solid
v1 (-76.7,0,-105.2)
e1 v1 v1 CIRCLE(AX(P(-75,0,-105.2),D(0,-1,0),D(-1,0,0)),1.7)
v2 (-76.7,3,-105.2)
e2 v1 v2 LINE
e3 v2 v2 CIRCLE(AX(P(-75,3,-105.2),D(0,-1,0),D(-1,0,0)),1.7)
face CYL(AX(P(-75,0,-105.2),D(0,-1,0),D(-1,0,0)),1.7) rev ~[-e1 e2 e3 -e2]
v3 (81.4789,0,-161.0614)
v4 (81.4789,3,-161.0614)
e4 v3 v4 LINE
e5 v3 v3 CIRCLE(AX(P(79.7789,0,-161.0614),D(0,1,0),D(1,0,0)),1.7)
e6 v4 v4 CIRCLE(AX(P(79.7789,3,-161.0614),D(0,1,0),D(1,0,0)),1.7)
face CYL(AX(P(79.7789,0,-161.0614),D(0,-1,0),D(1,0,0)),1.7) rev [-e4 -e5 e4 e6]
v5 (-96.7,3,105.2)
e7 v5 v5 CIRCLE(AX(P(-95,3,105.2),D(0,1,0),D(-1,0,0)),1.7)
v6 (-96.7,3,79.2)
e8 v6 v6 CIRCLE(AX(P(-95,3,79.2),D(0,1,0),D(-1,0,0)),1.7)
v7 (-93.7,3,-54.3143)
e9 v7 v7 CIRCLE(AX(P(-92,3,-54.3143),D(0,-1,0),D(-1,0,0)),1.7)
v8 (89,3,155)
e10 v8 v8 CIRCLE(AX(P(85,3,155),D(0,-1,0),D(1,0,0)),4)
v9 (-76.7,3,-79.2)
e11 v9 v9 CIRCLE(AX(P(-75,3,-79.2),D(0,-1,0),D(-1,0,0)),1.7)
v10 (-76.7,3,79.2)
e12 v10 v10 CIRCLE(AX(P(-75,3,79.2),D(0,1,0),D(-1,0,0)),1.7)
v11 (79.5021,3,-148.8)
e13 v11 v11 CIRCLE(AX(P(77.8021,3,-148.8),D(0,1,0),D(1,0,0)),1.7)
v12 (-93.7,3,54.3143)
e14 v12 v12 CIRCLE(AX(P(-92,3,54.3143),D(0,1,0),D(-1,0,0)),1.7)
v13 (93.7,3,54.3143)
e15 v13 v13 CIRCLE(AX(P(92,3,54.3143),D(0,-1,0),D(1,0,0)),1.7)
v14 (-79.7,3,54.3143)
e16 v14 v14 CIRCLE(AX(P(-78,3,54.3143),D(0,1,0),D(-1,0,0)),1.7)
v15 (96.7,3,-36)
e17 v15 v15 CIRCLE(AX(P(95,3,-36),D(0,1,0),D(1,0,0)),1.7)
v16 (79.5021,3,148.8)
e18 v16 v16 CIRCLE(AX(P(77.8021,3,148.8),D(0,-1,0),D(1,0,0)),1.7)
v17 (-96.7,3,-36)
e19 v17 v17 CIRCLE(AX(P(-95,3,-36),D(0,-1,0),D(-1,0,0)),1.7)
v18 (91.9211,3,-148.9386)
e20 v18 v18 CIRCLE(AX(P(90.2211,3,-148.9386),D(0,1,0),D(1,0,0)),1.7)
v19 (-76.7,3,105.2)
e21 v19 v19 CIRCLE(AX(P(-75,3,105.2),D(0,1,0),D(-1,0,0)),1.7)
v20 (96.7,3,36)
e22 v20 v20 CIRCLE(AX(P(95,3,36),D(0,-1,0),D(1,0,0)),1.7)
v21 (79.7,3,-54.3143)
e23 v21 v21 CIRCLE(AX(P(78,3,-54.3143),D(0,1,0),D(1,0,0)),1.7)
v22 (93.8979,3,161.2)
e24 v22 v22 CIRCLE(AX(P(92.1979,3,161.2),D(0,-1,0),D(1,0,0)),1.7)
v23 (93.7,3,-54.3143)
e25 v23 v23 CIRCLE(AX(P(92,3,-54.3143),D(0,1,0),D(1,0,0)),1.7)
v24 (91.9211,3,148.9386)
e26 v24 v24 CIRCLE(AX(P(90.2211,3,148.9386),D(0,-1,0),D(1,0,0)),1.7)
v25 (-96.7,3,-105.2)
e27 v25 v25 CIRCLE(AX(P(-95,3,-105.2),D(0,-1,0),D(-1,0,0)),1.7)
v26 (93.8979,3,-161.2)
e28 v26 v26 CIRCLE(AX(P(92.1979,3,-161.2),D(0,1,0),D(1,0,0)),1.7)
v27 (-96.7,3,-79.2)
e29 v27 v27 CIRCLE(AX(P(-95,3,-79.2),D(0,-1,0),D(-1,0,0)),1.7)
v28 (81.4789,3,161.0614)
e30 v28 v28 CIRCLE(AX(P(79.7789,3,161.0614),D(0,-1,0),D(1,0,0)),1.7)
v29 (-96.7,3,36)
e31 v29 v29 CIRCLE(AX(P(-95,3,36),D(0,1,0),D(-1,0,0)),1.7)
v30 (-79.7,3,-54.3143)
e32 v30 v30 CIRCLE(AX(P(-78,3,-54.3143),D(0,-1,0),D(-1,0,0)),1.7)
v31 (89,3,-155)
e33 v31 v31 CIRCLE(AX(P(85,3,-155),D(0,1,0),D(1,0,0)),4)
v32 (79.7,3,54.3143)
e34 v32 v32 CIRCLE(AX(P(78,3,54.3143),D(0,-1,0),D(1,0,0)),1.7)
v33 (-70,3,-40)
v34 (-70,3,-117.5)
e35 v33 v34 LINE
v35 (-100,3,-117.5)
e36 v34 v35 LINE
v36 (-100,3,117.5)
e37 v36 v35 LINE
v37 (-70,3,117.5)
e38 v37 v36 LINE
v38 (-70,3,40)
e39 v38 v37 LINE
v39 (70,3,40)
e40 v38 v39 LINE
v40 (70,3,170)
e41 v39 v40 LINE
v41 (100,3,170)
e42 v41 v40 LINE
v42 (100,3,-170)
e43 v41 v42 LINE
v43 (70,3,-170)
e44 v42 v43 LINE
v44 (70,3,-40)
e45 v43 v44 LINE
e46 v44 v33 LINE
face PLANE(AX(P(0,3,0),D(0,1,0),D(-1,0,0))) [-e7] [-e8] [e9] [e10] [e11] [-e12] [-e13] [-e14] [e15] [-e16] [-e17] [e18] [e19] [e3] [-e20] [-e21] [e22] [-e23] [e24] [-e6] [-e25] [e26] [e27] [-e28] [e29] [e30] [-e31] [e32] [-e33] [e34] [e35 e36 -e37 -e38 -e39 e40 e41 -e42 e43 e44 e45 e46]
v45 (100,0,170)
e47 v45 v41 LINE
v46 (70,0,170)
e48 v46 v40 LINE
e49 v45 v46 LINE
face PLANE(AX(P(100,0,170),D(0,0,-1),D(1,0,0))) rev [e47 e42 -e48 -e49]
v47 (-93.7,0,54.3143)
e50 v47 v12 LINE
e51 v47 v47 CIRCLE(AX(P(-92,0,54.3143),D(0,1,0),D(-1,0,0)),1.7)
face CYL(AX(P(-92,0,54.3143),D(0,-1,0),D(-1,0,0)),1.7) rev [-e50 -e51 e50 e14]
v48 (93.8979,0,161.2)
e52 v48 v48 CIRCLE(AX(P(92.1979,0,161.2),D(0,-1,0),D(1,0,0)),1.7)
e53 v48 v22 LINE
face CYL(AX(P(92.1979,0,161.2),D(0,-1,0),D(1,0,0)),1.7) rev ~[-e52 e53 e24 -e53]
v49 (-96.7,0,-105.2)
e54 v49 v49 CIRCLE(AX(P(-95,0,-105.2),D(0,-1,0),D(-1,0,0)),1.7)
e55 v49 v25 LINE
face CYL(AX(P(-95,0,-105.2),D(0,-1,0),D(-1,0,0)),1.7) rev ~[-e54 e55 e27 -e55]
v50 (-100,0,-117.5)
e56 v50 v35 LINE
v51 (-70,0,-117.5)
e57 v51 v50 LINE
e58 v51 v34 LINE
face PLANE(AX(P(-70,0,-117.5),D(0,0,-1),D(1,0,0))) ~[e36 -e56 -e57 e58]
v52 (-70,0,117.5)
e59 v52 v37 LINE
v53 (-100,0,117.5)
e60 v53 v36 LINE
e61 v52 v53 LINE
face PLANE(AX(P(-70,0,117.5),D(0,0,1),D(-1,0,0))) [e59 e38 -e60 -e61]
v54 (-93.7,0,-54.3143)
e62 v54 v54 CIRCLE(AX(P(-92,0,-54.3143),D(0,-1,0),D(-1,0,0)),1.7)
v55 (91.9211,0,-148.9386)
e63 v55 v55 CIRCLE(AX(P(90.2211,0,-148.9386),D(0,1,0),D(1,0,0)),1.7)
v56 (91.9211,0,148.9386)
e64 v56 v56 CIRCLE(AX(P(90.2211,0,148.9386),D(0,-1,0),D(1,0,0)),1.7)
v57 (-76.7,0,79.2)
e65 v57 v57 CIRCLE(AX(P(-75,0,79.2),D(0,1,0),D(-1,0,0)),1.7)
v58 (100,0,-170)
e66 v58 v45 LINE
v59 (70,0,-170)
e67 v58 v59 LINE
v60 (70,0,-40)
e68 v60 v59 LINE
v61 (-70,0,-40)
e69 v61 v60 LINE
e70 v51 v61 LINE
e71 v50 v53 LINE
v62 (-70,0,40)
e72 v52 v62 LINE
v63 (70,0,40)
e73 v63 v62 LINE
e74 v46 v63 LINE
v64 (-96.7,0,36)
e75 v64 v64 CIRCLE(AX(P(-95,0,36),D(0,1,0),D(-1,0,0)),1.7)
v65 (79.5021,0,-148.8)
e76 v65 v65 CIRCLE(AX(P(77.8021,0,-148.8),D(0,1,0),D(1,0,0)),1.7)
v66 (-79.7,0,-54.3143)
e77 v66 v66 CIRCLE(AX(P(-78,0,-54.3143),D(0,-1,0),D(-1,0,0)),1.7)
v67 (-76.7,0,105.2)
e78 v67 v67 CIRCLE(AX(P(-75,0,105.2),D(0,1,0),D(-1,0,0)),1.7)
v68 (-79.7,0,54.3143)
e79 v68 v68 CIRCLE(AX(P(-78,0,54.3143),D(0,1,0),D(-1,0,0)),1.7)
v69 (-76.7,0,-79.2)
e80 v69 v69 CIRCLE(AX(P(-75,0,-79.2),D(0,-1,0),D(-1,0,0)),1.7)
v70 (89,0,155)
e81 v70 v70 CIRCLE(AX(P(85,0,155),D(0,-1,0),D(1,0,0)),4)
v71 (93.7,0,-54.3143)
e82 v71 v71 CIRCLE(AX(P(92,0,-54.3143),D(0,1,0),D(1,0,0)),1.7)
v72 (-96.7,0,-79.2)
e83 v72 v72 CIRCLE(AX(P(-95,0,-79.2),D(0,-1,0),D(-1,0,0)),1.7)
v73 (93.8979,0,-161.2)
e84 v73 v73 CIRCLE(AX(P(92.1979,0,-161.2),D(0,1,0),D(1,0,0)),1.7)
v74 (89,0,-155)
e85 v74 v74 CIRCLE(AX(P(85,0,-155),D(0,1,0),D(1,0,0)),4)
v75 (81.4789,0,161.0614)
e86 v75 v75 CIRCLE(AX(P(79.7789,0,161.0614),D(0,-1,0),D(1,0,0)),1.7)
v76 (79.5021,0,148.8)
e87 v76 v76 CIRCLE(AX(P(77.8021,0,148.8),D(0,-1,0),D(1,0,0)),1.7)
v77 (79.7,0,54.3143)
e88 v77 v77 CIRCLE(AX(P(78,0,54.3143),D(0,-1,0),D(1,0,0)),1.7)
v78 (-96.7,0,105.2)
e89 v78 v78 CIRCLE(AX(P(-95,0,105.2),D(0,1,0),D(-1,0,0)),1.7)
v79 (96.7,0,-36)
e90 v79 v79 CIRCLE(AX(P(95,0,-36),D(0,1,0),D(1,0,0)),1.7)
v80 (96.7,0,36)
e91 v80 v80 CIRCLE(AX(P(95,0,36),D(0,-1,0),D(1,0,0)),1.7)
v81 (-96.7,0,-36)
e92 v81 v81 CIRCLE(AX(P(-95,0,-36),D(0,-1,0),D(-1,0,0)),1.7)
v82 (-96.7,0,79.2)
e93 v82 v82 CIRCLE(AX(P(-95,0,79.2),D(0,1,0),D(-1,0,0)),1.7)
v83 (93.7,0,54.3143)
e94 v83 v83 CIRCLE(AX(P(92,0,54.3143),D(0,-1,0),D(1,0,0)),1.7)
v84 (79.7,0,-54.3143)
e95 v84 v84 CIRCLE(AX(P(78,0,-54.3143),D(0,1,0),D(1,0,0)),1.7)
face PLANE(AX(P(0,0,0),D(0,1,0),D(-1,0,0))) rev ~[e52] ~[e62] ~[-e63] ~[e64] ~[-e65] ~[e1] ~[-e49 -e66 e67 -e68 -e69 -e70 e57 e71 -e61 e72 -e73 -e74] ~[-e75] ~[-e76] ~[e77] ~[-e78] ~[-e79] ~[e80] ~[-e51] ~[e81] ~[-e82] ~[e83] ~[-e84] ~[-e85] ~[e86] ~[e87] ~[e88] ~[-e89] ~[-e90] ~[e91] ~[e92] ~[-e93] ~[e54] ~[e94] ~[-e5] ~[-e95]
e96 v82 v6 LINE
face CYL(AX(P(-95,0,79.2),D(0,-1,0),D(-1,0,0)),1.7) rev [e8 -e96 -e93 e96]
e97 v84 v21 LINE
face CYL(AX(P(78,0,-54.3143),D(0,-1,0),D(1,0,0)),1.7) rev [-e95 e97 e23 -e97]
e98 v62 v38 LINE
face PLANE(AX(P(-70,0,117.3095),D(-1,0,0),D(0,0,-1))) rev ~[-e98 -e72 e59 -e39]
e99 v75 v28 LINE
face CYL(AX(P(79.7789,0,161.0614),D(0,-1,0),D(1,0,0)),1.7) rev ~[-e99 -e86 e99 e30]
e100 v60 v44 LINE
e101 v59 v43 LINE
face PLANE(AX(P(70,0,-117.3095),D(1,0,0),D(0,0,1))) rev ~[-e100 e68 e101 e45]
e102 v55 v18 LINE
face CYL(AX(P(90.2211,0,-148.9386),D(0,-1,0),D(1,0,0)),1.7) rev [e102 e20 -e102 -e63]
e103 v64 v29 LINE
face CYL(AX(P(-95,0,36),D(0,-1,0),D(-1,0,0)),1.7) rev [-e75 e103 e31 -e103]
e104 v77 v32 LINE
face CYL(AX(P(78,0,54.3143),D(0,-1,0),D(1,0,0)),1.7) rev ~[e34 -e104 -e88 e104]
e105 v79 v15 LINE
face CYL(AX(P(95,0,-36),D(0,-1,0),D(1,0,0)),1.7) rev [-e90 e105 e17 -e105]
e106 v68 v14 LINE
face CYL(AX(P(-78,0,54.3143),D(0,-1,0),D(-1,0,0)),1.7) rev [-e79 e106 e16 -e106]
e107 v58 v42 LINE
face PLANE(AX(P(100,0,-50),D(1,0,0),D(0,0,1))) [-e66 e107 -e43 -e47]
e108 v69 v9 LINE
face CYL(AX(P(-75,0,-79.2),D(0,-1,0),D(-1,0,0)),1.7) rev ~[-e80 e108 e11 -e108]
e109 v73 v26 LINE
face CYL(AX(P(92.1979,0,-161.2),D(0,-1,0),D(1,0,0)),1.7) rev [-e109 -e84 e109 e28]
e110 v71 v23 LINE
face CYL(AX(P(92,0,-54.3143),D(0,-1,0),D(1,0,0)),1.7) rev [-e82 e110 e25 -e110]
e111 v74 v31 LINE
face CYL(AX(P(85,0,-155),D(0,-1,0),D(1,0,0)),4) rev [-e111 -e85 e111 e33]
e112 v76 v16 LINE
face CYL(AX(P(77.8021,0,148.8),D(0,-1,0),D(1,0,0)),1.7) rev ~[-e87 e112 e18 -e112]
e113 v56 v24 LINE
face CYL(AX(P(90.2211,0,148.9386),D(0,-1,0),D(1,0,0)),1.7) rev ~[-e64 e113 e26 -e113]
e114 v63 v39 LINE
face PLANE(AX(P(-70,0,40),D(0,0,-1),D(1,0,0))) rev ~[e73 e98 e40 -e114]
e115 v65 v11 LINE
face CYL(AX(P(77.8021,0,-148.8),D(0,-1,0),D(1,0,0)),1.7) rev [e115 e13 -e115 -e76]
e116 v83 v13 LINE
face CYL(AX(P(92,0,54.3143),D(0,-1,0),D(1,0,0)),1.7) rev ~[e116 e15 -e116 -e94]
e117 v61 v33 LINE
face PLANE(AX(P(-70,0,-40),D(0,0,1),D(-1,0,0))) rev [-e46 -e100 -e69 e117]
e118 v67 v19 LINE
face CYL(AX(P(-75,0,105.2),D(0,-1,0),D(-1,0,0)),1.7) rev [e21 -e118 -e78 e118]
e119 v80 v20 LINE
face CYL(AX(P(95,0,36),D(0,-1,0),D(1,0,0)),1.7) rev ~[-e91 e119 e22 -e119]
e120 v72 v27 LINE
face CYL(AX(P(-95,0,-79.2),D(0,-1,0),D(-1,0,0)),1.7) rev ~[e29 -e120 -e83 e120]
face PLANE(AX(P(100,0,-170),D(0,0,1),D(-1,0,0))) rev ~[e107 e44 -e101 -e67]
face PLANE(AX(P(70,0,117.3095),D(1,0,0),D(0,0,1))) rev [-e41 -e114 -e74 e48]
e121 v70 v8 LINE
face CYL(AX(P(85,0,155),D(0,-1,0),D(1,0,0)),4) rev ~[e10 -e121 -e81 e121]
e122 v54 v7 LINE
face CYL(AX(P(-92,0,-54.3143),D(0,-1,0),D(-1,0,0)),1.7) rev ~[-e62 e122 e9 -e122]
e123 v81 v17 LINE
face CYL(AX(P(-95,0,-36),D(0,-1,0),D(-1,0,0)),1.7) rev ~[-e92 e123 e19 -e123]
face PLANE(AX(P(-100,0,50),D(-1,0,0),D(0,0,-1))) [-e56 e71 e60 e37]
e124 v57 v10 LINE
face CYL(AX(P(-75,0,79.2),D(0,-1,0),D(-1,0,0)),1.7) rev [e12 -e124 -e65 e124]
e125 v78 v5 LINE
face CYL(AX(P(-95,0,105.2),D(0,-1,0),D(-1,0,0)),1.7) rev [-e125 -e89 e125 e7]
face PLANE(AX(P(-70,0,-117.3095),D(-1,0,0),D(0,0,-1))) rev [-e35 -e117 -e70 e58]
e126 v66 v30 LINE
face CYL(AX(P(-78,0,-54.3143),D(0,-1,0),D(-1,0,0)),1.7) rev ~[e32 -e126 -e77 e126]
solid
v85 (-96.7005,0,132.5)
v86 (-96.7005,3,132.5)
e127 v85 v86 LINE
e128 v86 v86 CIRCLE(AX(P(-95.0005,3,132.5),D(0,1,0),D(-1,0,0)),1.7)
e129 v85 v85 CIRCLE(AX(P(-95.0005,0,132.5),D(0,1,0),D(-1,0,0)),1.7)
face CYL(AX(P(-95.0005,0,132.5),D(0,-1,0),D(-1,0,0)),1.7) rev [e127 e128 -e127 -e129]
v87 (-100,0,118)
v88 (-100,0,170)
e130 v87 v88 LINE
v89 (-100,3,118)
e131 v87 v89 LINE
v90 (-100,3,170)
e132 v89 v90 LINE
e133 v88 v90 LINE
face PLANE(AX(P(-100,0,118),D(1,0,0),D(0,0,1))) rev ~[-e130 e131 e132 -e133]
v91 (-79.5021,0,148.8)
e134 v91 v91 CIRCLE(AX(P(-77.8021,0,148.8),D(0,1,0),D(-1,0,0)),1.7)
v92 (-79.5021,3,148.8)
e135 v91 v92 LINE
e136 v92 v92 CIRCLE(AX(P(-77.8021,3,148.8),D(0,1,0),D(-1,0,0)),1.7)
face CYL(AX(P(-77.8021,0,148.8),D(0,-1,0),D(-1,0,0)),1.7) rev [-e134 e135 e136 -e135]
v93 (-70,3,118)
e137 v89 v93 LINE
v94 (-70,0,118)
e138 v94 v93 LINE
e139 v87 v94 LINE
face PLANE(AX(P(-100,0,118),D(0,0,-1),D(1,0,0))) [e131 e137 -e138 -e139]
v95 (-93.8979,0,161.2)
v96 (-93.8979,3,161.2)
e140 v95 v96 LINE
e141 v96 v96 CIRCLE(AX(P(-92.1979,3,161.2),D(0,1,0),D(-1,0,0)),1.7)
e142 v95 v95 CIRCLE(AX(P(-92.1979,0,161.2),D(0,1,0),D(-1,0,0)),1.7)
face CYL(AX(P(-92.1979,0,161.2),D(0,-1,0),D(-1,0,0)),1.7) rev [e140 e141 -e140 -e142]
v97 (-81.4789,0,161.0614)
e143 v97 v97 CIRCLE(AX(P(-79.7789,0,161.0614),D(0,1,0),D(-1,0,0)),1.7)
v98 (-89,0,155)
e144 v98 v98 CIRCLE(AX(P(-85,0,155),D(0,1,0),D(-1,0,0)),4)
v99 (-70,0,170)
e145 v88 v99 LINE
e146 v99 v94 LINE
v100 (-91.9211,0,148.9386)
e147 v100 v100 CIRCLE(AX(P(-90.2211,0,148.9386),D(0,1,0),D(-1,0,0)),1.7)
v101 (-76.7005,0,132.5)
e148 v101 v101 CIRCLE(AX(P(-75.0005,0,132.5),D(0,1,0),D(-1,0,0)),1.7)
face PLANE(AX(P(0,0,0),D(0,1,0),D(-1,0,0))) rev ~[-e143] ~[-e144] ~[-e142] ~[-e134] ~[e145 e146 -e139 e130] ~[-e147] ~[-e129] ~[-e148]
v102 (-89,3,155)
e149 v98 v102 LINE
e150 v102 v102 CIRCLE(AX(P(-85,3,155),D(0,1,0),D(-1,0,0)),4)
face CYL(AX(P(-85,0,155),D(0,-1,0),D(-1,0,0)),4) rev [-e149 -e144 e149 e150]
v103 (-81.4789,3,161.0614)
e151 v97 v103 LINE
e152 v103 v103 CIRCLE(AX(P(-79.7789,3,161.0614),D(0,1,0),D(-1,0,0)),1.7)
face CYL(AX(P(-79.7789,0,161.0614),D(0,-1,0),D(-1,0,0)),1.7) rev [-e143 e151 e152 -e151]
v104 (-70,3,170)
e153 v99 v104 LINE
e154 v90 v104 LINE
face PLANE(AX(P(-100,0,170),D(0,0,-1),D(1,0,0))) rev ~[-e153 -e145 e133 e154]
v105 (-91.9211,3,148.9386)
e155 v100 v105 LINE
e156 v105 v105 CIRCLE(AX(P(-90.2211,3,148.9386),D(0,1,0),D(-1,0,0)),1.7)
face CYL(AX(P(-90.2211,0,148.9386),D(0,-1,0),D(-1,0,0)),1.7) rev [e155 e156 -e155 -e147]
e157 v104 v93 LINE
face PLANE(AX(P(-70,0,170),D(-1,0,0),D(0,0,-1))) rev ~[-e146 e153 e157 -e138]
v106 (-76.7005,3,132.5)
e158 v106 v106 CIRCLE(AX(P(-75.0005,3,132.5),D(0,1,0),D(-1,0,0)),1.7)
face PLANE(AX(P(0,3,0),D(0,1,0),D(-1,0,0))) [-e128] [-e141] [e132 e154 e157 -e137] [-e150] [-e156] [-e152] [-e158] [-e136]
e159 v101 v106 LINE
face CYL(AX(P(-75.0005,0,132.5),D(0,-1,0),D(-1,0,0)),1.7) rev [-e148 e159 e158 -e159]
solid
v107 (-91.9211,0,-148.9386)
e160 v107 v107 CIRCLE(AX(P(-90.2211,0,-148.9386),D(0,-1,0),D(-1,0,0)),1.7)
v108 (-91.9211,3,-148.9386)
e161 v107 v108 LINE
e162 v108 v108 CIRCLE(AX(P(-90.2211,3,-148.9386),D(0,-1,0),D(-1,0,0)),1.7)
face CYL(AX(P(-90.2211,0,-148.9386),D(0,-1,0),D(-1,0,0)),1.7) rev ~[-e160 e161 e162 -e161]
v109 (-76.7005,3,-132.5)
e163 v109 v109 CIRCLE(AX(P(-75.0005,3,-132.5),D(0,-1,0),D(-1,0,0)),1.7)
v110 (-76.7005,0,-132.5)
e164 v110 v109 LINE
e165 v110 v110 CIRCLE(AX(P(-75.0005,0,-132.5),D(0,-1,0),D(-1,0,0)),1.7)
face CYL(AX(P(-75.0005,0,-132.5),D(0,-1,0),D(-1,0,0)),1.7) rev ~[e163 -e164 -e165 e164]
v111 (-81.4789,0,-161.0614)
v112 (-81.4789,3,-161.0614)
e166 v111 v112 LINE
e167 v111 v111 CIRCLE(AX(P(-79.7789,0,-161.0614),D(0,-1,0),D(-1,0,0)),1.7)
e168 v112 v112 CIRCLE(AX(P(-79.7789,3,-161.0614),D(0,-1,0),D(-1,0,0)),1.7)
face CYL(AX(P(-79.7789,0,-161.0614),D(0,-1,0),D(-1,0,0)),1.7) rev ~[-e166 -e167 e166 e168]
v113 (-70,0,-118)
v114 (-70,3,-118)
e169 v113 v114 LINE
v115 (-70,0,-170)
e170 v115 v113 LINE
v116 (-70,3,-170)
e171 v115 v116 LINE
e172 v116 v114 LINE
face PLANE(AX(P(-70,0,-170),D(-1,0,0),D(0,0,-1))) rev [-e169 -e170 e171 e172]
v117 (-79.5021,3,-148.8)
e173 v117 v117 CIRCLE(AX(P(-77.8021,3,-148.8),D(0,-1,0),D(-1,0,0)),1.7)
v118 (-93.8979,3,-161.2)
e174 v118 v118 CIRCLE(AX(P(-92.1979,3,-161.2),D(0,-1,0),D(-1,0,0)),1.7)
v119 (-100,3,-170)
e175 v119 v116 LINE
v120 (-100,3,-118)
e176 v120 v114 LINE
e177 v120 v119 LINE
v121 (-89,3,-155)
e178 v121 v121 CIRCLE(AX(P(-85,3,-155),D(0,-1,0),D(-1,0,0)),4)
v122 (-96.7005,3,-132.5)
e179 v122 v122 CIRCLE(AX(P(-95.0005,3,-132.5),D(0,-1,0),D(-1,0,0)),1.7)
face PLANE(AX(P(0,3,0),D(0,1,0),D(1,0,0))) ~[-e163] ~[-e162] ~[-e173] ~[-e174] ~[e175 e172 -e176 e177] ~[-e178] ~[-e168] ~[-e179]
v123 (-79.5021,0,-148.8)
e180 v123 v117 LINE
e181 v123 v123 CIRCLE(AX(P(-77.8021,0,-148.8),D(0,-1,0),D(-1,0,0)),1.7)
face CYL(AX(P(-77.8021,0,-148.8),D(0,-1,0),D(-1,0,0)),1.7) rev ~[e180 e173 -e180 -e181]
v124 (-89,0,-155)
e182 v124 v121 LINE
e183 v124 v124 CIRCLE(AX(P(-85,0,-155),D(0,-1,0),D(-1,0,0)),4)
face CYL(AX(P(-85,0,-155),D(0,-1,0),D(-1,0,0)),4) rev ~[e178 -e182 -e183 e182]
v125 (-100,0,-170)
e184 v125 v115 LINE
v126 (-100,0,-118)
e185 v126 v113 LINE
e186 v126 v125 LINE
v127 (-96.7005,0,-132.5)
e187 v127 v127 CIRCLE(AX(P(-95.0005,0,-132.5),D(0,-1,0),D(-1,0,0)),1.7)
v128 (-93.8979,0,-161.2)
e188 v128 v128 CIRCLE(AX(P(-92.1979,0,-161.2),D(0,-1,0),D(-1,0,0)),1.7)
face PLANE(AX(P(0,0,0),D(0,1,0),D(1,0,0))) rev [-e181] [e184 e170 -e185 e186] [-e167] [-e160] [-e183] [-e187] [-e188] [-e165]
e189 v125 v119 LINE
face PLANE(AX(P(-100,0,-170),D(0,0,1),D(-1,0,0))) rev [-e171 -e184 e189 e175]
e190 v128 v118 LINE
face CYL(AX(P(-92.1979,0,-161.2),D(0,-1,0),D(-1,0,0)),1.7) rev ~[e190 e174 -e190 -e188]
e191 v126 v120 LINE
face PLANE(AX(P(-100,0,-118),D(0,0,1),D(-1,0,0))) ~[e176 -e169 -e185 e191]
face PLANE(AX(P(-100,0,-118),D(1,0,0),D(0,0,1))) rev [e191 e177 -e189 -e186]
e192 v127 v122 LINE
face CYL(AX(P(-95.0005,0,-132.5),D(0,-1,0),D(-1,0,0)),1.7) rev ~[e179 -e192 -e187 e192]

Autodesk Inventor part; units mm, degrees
ref_plane "YZ Plane" through (0, 0, 0) normal (1, 0, 0) x (0, 1, 0)
ref_plane "XZ Plane" through (0, 0, 0) normal (0, 1, 0) x (-1, 0, 0)
ref_plane "XY Plane" through (0, 0, 0) normal (0, 0, 1) x (1, 0, 0)
sketch "Skizze1" plane through (0, 0, 0) normal (0, 1, 0) x (-1, 0, 0)
  line L0 (127.3199, 0) -> (-102.7808, 0) construction
  line L1 (0, 142.2638) -> (0, -235.5235) construction
  line L2 (100, 50) -> (100, 0)
  line L3 (70, 40) -> (0, 40)
  line L4 (0, 0) -> (100, 0)
  line L5 (0, 40) -> (0, 0)
  line L6 (100, 50) -> (100, 170)
  line L7 (100, 170) -> (70, 170)
  line L8 (70, 170) -> (70, 40)
  circle A0 centre (95, 36) radius 1.7
  line L9 (100, 140) -> (70, 140) construction
  circle A1 centre (85, 155) radius 4
  circle A2 centre (79.7789, 161.0614) radius 1.7
  circle A3 centre (92.1979, 161.2) radius 1.7
  circle A4 centre (90.2211, 148.9386) radius 1.7
  circle A5 centre (77.8021, 148.8) radius 1.7
  circle A6 centre (85, 155) radius 8 construction
  circle A7 centre (85, 155) radius 9.5 construction
  line L10 (79.7789, 161.0614) -> (90.2211, 148.9386) construction
  line L11 (92.1979, 161.2) -> (77.8021, 148.8) construction
  arc A8 (92.0223, 145.331) -> (96.9015, 153.9244) centre (85, 155) ccw construction
  line L12 (96.9015, 153.9244) -> (96.6242, 153.848) construction
  arc A9 (94.3917, 161.9459) -> (96.6242, 153.848) centre (95.508, 157.8969) ccw construction
  line L13 (94.3917, 161.9459) -> (94.669, 162.0223) construction
  arc A10 (94.669, 162.0223) -> (86.0756, 166.9015) centre (85, 155) ccw construction
  line L14 (86.0756, 166.9015) -> (86.152, 166.6242) construction
  arc A11 (78.0541, 164.3917) -> (86.152, 166.6242) centre (82.1031, 165.508) ccw construction
  line L15 (78.0541, 164.3917) -> (77.9777, 164.669) construction
  arc A12 (77.9777, 164.669) -> (73.0985, 156.0756) centre (85, 155) ccw construction
  line L16 (73.0985, 156.0756) -> (73.3758, 156.152) construction
  arc A13 (75.6083, 148.0541) -> (73.3758, 156.152) centre (74.492, 152.1031) ccw construction
  line L17 (75.6083, 148.0541) -> (75.331, 147.9777) construction
  arc A14 (75.331, 147.9777) -> (83.9244, 143.0985) centre (85, 155) ccw construction
  line L18 (83.9244, 143.0985) -> (83.848, 143.3758) construction
  arc A15 (91.9459, 145.6083) -> (83.848, 143.3758) centre (87.8969, 144.492) ccw construction
  line L19 (91.9459, 145.6083) -> (92.0223, 145.331) construction
  circle A16 centre (85, 155) radius 4 construction
  circle A17 centre (78.0432, 158.95) radius 1.25 construction
  circle A18 centre (89.6906, 163.2613) radius 1.25 construction
  circle A19 centre (91.9568, 151.05) radius 1.25 construction
  circle A20 centre (80.3094, 146.7387) radius 1.25 construction
  line L20 (70, 117.8095) -> (70, 117.3095)
  line L21 (100, 118) -> (70, 118)
  line L22 (70, 118) -> (70, 117.5)
  line L23 (70, 117.5) -> (100, 117.5)
  line L24 (100, 117.5) -> (100, 118)
  circle A21 centre (95.0005, 132.5) radius 1.7
  circle A22 centre (75.0005, 132.5) radius 1.7
  circle A23 centre (75, 105.2) radius 1.7
  circle A24 centre (95, 105.2) radius 1.7
  circle A25 centre (95, 79.2) radius 1.7
  circle A26 centre (75, 79.2) radius 1.7
  circle A27 centre (95.0005, 132.5) radius 1.7
  circle A28 centre (75.0005, 132.5) radius 1.7
  circle A29 centre (75, 105.2) radius 1.7
  circle A30 centre (95, 105.2) radius 1.7
  circle A31 centre (95, 79.2) radius 1.7
  circle A32 centre (75, 79.2) radius 1.7
  circle A33 centre (78, 54.3143) radius 1.7
  circle A34 centre (92, 54.3143) radius 1.7
  dimension "d75" = 19
  dimension "d10" = 100
  dimension "d12" = 30
  dimension "d13" = 170
  dimension "d14" = 40
  dimension "d22" = 5
  dimension "d23" = 4
  dimension "d26" = 3.4
  dimension "d59" = 30
  dimension "d60" = 8
  dimension "d61" = 15
  dimension "d64" = 3.4
  dimension "d65" = 3.4
  dimension "d66" = 3.4
  dimension "d67" = 3.4
  dimension "d70" = 7.8021
  dimension "d74" = 16
  dimension "d76" = 90
  dimension "d78" = 0.5
  dimension "d79" = 52
  dimension "d82" = 3.4
  dimension "d83" = 3.4
  dimension "d84" = 8
  dimension "d85" = 8
extrude "Extrusion1" add sketch "Skizze1" along normal blind 3 contours L2 L4 L5 L3 L8 L23 L6 | L21 L8 L7 L6
ref_plane "Arbeitsebene1" through (0, 0, 40) normal (1, 0, 0) x (0, 1, 0)
ref_plane "Arbeitsebene2" through (0, 3, 0) normal (0, 0, -1) x (-1, 0, 0)
mirror "Spiegeln1" about plane through (0, 3, 0) normal (0, 0, -1) of "Extrusion1"
pattern_circular "Runde Anordnung1" count 2 over 360 about axis through (0, 3, 0) along (0, -1, 0) of "Extrusion1"
mirror "Spiegeln2" about plane through (0, 0, 40) normal (1, 0, 0) of "Extrusion1"
mirror "Spiegeln3" about plane through (0, 3, 0) normal (0, 0, -1) of "Extrusion1"
sketch "Skizze7" plane through (0, 0, 0) normal (0, -1, 0) x (1, 0, 0)
  circle A0 centre (-95, -36) radius 1.7 projected
  circle A1 centre (-75, -105.2) radius 1.7 projected
  circle A2 centre (-95, -105.2) radius 1.7 projected
  circle A3 centre (-95, -79.2) radius 1.7 projected
  circle A4 centre (-75, -79.2) radius 1.7 projected
  line L0 (-70, -40) -> (70, -40) projected
  line L1 (70, -117.5) -> (70, -40) projected
  line L2 (70, -117.5) -> (100, -117.5) projected
  line L3 (100, -117.5) -> (100, 117.5) projected
  line L4 (70, 117.5) -> (100, 117.5) projected
  line L5 (70, 117.5) -> (70, 40) projected
  line L6 (-70, 40) -> (70, 40) projected
  line L7 (-70, 117.5) -> (-70, 40) projected
  line L8 (-70, 117.5) -> (-100, 117.5) projected
  line L9 (-100, 117.5) -> (-100, -117.5) projected
  line L10 (-70, -117.5) -> (-100, -117.5) projected
  line L11 (-70, -117.5) -> (-70, -40) projected
  circle A5 centre (95, 36) radius 1.7 projected
  circle A6 centre (75, 105.2) radius 1.7 projected
  circle A7 centre (95, 105.2) radius 1.7 projected
  circle A8 centre (95, 79.2) radius 1.7 projected
  circle A9 centre (75, 79.2) radius 1.7 projected
  circle A10 centre (95, -36) radius 1.7 projected
  circle A11 centre (75, -105.2) radius 1.7 projected
  circle A12 centre (95, -105.2) radius 1.7 projected
  circle A13 centre (95, -79.2) radius 1.7 projected
  circle A14 centre (75, -79.2) radius 1.7 projected
  circle A15 centre (-75, 79.2) radius 1.7 projected
  circle A16 centre (-95, 79.2) radius 1.7 projected
  circle A17 centre (-95, 105.2) radius 1.7 projected
  circle A18 centre (-75, 105.2) radius 1.7 projected
  circle A19 centre (-95, 36) radius 1.7 projected
  line L12 (100, 118) -> (70, 118) projected
  line L13 (100, 118) -> (100, 170) projected
  line L14 (100, 170) -> (70, 170) projected
  line L15 (70, 170) -> (70, 118) projected
  circle A20 centre (79.7789, 161.0614) radius 1.7 projected
  circle A21 centre (92.1979, 161.2) radius 1.7 projected
  circle A22 centre (90.2211, 148.9386) radius 1.7 projected
  circle A23 centre (77.8021, 148.8) radius 1.7 projected
  circle A24 centre (95.0005, 132.5) radius 1.7 projected
  circle A25 centre (75.0005, 132.5) radius 1.7 projected
  circle A26 centre (85, 155) radius 4 projected
  line L16 (100, -118) -> (70, -118) projected
  line L17 (70, -170) -> (70, -118) projected
  line L18 (100, -170) -> (70, -170) projected
  line L19 (100, -118) -> (100, -170) projected
  circle A27 centre (79.7789, -161.0614) radius 1.7 projected
  circle A28 centre (92.1979, -161.2) radius 1.7 projected
  circle A29 centre (90.2211, -148.9386) radius 1.7 projected
  circle A30 centre (77.8021, -148.8) radius 1.7 projected
  circle A31 centre (95.0005, -132.5) radius 1.7 projected
  circle A32 centre (75.0005, -132.5) radius 1.7 projected
  circle A33 centre (85, -155) radius 4 projected
  line L20 (100, 117.5) -> (70, 117.5) projected
  line L21 (100, 118) -> (100, 170) projected
  line L22 (100, 117.5) -> (100, 118)
  line L23 (70, 118) -> (70, 117.5)
  line L24 (70, -117.5) -> (100, -117.5) projected
  line L25 (70, -117.5) -> (70, -40) projected
  line L26 (70, -117.5) -> (70, -118)
  line L27 (100, -118) -> (100, -170) projected
  line L28 (100, -117.5) -> (100, -118)
  point P0 (0, 0)
extrude "Extrusion6" add sketch "Skizze7" against normal blind 3 contours L2 L28 L16 L26 | L4 L23 L12 L22 | A6 | A7 | A8 | A9 | A11 | A12 | A13 | A14 | A24 | A25 | A31 | A32
properties part number "chassis mit motorlöcher" material "Polycarbonat, rauchfarben"
